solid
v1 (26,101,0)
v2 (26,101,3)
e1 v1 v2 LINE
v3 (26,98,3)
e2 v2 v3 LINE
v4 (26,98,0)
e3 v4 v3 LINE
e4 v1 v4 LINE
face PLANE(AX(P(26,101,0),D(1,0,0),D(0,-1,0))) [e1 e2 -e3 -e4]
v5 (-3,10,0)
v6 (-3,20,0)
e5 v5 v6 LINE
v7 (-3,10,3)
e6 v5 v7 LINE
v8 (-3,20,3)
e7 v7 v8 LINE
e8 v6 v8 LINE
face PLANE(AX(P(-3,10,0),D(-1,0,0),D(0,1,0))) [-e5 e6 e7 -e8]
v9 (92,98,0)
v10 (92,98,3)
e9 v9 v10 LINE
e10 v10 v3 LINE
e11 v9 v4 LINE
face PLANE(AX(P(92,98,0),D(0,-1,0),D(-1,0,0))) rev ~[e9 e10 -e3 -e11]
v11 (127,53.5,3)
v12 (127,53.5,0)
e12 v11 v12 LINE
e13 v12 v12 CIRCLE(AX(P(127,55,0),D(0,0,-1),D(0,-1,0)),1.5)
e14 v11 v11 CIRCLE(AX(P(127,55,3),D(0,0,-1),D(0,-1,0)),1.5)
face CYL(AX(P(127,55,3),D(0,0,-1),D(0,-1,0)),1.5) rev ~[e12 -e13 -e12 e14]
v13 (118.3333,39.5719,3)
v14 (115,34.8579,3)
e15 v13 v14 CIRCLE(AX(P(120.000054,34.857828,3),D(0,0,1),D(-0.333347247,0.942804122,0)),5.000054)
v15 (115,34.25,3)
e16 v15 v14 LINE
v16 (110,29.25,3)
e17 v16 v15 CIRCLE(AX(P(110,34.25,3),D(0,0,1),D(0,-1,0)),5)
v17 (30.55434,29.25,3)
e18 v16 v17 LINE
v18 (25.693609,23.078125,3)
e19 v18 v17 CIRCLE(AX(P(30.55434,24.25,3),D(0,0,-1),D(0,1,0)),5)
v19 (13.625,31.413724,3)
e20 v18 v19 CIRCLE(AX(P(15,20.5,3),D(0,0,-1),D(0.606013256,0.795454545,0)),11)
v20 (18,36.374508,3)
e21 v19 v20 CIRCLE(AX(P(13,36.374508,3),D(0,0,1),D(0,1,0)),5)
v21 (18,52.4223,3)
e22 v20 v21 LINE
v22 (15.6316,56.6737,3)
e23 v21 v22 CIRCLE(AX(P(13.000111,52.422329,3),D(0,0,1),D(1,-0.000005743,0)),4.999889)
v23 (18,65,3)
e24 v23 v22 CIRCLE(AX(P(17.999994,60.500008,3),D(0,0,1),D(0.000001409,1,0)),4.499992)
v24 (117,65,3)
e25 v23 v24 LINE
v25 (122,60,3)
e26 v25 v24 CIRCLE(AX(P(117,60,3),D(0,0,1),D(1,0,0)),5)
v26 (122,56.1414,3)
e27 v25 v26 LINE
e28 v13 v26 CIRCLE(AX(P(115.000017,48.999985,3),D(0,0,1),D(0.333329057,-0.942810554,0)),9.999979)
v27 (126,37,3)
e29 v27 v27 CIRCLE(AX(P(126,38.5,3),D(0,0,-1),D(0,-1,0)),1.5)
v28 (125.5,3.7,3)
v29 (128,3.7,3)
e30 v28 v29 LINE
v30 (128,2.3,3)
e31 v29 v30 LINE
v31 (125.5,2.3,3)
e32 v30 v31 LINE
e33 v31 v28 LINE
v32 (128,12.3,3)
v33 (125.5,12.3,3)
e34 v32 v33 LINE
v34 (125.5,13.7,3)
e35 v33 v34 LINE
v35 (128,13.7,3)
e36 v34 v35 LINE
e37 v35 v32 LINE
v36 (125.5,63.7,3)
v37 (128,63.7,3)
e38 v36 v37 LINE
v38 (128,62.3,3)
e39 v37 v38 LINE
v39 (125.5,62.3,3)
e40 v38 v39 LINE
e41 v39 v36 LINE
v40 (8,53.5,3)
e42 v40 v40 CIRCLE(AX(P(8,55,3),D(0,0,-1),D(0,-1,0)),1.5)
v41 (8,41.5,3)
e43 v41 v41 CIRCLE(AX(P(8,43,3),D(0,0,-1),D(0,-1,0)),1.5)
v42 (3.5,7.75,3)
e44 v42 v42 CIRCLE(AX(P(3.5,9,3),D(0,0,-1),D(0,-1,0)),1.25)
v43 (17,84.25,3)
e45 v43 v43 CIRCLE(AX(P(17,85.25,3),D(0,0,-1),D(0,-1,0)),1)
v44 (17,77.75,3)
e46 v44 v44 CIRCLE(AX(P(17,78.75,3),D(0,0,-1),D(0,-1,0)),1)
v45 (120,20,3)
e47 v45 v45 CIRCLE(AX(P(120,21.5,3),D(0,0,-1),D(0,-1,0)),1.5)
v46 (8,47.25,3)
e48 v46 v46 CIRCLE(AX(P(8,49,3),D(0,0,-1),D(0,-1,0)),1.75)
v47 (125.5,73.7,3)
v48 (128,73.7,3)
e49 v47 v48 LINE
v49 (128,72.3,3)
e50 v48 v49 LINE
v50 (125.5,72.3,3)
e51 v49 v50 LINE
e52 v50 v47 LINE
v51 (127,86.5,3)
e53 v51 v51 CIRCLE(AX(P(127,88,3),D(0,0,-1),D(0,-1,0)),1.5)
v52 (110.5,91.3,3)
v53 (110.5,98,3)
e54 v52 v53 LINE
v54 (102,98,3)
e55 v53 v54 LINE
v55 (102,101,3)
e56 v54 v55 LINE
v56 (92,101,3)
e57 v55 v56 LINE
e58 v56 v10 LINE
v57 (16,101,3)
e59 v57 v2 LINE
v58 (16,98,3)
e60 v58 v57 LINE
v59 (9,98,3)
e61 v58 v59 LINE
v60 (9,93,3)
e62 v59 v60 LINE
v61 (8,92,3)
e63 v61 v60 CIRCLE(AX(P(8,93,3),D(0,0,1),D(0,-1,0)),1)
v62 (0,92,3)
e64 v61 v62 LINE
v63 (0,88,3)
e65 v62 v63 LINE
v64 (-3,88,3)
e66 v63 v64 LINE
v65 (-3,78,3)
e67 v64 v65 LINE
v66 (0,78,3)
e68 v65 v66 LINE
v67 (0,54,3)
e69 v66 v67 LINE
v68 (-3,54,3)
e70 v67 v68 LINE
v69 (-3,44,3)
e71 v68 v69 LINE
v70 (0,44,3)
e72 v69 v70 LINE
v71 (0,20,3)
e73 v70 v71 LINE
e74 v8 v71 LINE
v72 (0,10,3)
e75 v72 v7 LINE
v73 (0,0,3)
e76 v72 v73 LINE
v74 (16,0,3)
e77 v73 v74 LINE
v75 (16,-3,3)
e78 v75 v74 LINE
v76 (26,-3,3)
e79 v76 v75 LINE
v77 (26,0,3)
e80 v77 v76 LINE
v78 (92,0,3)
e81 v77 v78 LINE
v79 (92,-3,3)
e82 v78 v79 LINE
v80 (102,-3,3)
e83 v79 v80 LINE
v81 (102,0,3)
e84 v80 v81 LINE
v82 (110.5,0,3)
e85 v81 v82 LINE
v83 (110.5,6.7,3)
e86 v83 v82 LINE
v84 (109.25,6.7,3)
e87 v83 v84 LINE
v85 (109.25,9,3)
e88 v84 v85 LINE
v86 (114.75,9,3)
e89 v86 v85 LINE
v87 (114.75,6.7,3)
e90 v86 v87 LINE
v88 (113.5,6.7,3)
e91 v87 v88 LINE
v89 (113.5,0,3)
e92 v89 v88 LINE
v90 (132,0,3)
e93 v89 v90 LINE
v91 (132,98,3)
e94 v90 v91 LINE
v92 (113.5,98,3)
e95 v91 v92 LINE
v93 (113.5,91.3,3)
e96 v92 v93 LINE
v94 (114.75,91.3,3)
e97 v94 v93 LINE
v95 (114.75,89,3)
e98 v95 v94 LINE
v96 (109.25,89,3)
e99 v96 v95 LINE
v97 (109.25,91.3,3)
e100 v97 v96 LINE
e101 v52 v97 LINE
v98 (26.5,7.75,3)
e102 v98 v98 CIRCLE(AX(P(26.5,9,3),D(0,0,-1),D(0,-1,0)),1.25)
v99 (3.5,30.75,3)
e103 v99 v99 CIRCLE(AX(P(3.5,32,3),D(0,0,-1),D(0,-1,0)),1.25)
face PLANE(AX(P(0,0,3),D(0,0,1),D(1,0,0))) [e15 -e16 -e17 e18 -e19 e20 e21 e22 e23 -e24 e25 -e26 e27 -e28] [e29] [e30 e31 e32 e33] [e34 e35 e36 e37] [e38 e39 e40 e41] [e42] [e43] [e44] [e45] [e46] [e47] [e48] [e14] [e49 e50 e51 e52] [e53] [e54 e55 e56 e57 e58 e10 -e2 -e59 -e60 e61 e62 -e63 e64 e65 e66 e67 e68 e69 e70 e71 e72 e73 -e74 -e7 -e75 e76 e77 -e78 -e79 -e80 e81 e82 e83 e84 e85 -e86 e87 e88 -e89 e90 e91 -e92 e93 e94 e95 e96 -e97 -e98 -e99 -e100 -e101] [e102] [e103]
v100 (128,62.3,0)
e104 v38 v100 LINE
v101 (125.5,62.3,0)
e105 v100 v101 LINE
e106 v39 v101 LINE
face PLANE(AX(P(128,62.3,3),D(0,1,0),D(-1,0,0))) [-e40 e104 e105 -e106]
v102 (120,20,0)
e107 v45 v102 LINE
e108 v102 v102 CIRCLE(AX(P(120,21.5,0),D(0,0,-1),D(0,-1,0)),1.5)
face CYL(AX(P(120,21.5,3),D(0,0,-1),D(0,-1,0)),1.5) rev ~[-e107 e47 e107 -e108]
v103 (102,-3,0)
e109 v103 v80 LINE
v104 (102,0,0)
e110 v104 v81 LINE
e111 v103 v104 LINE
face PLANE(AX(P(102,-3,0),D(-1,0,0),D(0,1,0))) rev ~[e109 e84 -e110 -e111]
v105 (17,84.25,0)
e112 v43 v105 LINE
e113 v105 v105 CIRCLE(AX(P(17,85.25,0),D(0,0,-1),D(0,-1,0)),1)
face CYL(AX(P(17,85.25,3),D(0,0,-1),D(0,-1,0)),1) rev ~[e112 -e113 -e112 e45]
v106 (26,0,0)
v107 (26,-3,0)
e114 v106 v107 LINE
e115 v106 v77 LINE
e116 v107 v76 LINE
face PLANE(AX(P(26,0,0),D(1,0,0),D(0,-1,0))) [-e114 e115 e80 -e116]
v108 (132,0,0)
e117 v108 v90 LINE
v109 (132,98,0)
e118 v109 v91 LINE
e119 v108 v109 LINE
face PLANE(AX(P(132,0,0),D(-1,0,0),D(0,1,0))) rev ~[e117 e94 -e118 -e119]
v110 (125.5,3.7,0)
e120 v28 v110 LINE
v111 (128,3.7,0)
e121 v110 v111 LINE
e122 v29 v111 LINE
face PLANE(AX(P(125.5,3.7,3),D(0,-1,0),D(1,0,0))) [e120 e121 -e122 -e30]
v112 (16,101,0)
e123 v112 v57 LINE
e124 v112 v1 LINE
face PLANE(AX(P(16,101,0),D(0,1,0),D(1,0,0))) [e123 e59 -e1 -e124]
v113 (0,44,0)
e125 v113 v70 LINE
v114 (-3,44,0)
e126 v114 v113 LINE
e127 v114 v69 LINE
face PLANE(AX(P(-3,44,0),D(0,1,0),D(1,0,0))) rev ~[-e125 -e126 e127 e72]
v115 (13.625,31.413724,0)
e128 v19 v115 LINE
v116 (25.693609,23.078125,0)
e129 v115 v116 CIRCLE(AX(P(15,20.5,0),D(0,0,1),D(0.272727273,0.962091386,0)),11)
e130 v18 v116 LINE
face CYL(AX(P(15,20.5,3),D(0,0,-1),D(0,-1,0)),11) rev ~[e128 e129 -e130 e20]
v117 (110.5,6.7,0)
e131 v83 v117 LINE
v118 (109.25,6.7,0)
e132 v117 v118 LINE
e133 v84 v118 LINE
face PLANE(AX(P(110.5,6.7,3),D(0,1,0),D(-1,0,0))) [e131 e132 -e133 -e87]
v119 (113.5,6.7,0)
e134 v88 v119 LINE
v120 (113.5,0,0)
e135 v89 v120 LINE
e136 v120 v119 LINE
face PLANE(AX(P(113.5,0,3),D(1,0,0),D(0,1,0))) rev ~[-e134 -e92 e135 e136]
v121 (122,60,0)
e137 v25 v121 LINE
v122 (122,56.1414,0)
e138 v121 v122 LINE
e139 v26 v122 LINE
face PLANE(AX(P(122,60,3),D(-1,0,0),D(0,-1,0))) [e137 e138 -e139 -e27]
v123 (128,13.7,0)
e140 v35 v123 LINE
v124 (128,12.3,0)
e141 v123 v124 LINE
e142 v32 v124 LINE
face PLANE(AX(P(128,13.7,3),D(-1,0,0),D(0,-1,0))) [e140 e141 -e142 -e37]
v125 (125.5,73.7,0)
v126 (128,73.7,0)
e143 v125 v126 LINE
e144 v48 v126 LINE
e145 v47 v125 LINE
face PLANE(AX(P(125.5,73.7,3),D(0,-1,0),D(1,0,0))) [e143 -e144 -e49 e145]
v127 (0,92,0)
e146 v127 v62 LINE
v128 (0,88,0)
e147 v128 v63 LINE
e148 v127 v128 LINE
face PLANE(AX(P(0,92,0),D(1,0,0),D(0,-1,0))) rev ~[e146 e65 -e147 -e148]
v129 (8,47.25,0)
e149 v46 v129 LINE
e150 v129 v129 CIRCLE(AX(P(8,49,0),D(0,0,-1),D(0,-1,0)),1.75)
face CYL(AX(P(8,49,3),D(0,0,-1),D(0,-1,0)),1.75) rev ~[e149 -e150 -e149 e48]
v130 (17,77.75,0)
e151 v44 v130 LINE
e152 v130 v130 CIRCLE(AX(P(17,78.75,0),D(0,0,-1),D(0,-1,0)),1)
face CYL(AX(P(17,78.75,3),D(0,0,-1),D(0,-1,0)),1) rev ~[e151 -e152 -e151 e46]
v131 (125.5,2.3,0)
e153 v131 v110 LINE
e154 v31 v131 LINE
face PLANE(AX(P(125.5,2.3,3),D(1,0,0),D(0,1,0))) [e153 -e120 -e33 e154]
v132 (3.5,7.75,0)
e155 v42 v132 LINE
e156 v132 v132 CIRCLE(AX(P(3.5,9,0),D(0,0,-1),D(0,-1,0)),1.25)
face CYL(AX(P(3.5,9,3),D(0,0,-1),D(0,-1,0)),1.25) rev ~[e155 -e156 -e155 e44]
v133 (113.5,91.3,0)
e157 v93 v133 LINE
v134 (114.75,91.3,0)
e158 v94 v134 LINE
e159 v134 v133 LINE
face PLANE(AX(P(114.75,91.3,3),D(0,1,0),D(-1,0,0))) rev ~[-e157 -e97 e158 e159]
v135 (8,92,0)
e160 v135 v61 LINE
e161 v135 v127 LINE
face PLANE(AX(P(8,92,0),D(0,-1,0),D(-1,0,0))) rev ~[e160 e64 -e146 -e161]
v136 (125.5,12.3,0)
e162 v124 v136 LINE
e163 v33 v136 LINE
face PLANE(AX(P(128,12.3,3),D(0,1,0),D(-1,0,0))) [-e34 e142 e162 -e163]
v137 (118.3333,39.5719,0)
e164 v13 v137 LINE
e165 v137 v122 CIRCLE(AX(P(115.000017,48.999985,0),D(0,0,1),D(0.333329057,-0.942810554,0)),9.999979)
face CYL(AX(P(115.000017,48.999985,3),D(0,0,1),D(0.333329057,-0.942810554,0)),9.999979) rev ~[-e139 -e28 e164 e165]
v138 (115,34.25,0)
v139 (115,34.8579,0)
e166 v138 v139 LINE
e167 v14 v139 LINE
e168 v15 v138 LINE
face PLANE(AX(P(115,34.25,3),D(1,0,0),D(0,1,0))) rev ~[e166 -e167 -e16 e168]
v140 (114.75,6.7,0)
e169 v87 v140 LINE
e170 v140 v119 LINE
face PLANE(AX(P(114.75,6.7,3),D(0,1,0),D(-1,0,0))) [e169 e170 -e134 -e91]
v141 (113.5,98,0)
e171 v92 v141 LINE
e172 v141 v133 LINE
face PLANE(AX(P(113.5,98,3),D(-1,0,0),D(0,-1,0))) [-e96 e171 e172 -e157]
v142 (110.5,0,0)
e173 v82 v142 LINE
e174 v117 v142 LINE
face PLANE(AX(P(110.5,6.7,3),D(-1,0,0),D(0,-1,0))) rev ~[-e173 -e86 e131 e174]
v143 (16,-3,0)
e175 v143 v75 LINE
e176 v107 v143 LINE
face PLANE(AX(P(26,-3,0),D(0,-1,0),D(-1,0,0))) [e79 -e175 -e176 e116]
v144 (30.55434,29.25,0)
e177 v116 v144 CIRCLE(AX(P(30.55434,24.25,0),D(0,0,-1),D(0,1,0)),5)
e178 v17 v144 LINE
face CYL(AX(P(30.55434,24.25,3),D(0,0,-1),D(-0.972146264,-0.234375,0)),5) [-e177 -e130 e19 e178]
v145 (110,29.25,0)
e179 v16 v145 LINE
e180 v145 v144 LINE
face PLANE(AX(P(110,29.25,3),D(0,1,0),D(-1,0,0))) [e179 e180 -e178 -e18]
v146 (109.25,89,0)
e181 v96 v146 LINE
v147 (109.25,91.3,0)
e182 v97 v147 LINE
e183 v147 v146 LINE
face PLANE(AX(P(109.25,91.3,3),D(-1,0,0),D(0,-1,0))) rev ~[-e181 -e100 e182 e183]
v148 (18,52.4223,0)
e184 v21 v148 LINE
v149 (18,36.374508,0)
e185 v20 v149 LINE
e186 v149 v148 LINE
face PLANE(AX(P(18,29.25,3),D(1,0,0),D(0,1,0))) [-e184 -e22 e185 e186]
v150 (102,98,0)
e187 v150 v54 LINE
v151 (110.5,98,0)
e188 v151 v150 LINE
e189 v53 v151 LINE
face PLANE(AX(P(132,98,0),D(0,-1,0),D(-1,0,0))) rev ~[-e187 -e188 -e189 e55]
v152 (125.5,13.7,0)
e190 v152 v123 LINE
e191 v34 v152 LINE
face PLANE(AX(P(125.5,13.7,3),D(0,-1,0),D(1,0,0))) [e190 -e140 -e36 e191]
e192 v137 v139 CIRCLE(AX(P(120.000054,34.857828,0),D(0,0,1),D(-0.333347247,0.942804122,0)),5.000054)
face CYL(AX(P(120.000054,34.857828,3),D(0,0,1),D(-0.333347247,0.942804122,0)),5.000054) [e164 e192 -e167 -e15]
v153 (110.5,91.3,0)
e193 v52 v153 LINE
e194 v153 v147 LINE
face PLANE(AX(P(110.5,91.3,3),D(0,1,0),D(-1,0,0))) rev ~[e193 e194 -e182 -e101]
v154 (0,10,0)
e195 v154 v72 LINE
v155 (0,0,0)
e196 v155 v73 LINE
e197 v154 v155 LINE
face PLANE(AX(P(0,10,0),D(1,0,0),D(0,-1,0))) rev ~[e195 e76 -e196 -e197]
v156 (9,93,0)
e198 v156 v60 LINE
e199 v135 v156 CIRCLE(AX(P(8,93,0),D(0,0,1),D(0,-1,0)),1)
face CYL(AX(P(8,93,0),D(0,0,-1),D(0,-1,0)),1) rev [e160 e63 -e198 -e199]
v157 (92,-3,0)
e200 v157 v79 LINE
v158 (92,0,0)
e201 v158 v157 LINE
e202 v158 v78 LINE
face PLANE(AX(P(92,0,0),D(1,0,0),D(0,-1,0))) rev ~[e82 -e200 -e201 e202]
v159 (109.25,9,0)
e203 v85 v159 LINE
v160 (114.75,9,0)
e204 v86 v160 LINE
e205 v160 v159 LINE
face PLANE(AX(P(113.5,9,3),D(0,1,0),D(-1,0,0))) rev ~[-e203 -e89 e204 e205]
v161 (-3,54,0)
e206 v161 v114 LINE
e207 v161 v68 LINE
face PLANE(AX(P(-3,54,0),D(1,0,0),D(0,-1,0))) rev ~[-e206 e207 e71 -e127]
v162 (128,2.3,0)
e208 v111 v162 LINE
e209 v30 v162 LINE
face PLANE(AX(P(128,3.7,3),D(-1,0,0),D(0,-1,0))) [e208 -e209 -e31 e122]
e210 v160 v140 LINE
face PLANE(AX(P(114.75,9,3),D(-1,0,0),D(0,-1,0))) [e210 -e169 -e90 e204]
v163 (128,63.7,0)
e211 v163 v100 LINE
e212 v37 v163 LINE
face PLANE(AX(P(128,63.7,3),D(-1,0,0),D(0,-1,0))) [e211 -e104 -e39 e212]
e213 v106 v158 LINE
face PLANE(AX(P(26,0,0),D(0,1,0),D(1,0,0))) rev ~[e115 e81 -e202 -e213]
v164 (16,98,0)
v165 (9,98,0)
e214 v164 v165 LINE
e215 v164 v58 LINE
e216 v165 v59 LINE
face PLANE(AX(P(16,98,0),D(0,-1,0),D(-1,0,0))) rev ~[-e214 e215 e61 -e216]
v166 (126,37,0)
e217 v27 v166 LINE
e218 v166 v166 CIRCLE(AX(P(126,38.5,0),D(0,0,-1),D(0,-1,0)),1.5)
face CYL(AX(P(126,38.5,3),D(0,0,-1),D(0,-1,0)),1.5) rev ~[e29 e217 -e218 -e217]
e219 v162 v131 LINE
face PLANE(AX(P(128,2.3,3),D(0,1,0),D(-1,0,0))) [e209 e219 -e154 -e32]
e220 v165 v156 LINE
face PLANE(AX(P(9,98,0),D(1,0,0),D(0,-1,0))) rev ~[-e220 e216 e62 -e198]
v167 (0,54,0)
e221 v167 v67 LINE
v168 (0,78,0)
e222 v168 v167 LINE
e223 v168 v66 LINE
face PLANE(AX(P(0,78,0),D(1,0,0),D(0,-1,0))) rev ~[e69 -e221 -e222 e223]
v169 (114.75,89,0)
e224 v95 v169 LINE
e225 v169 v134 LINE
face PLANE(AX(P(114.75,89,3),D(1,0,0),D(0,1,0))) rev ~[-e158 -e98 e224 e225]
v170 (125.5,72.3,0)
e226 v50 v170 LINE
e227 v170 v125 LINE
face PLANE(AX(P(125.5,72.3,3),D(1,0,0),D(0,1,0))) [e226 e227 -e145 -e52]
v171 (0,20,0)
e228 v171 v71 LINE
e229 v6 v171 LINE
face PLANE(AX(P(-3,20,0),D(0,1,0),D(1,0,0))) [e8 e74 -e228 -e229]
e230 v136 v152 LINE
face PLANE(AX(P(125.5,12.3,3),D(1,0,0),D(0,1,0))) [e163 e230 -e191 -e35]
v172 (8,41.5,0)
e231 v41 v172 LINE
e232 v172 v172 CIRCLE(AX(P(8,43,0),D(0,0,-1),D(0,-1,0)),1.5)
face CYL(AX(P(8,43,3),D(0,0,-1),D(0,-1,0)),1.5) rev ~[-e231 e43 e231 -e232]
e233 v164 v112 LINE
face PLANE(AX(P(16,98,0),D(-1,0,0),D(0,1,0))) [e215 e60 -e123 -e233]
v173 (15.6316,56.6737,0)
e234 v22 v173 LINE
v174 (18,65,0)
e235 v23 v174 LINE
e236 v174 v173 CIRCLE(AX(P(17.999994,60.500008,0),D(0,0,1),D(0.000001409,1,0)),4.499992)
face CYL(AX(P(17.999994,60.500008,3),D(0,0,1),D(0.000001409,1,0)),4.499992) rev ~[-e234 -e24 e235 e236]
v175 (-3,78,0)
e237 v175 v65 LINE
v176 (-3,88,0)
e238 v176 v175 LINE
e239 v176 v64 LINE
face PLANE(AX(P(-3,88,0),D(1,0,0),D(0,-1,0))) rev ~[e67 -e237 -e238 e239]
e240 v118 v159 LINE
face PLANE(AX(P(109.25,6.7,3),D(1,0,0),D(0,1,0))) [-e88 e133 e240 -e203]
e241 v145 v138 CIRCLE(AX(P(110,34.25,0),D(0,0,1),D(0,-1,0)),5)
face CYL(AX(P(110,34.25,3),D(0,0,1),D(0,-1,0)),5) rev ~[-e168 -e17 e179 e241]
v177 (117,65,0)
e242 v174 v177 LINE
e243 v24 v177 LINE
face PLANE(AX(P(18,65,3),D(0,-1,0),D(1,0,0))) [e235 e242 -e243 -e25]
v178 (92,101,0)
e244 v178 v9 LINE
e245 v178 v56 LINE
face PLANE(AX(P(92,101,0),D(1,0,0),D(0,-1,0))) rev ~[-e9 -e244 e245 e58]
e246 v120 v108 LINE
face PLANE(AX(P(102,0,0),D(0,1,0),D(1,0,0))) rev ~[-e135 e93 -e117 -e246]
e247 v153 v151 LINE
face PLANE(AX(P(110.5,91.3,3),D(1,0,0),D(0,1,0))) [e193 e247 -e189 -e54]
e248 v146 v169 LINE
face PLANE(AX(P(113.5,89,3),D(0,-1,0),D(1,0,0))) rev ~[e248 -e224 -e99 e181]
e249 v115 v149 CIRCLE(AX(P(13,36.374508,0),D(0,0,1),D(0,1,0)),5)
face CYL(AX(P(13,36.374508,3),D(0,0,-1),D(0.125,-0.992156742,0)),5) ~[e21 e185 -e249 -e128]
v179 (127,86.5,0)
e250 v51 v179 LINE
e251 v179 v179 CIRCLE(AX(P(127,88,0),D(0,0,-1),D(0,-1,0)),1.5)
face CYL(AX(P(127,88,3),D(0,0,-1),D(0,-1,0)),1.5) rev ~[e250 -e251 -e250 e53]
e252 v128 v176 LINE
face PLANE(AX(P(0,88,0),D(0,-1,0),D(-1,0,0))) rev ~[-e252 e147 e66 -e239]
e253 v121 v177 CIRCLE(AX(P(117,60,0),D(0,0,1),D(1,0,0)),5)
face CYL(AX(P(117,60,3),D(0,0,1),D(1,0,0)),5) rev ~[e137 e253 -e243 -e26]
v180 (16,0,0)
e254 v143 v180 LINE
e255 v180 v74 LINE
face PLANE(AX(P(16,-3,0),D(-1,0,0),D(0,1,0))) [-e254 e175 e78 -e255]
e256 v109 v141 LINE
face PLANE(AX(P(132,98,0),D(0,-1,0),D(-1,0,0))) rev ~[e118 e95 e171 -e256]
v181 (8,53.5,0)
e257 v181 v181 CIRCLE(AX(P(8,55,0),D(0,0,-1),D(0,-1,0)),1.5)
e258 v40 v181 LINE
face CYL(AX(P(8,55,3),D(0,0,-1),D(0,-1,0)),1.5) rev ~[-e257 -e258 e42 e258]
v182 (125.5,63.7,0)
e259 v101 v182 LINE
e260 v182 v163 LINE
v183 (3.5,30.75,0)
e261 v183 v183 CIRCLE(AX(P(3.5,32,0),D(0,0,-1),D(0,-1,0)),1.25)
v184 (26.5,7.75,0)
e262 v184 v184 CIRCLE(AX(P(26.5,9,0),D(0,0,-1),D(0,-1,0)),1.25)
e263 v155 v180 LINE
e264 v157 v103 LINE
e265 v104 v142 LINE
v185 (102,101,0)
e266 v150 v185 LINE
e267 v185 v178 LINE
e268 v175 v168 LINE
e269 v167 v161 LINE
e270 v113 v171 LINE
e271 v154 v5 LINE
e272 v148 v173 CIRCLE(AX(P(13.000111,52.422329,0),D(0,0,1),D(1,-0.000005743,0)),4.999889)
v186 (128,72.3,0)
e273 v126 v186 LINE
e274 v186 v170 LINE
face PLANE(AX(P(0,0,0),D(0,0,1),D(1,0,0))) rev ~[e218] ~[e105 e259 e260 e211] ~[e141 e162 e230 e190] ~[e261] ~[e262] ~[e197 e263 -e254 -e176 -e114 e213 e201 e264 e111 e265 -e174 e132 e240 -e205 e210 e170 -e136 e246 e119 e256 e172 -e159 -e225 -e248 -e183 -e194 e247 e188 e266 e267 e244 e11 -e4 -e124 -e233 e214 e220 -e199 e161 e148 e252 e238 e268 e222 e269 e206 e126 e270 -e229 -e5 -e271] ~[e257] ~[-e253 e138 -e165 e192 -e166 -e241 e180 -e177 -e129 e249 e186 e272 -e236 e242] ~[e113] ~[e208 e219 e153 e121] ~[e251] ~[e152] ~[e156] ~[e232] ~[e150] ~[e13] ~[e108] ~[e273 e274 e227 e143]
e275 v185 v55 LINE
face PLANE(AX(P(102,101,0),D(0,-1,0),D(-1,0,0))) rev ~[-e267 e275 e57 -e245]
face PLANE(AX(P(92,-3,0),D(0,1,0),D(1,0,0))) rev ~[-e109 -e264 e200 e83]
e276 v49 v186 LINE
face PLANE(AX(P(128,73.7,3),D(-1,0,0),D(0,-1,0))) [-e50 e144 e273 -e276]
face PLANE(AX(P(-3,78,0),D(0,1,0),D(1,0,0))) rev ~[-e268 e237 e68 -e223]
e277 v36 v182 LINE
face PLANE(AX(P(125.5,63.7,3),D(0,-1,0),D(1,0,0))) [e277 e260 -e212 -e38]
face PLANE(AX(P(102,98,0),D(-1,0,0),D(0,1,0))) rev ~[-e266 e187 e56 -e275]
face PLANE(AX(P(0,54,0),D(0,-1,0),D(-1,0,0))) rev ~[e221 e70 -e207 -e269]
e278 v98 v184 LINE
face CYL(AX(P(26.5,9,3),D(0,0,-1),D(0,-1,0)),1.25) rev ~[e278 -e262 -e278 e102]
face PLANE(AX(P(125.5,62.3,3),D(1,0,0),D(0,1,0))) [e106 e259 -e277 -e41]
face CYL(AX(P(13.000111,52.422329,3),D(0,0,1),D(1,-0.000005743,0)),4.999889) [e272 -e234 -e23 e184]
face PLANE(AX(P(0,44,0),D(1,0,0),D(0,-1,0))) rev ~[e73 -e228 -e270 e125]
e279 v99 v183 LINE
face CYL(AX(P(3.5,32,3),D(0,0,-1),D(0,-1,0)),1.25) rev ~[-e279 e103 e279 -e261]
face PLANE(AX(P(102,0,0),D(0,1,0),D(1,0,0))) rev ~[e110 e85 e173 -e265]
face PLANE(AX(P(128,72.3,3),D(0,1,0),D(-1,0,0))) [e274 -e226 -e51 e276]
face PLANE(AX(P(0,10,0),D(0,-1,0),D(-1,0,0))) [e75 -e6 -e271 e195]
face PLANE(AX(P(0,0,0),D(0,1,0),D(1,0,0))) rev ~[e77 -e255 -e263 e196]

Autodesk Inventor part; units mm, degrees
ref_plane "YZ Plane" through (0, 0, 0) normal (1, 0, 0) x (0, 1, 0)
ref_plane "XZ Plane" through (0, 0, 0) normal (0, 1, 0) x (-1, 0, 0)
ref_plane "XY Plane" through (0, 0, 0) normal (0, 0, 1) x (1, 0, 0)
sketch "Sketch1" plane through (0, 0, 0) normal (0, 0, 1) x (1, 0, 0)
  line L0 (0, 0) -> (132, 0)
  line L1 (132, 0) -> (132, 98)
  line L2 (132, 98) -> (0, 98)
  line L3 (0, 98) -> (0, 0)
  line L4 (16, 101) -> (26, 101)
  line L5 (26, 101) -> (26, -3)
  line L6 (26, -3) -> (16, -3)
  line L7 (16, -3) -> (16, 101)
  line L8 (102, 101) -> (92, 101)
  line L9 (92, 101) -> (92, -3)
  line L10 (92, -3) -> (102, -3)
  line L11 (102, -3) -> (102, 101)
  line L12 (0, 88) -> (-3, 88)
  line L13 (-3, 88) -> (-3, 78)
  line L14 (-3, 78) -> (0, 78)
  line L15 (0, 78) -> (0, 88)
  line L16 (0, 10) -> (-3, 10)
  line L17 (-3, 10) -> (-3, 20)
  line L18 (-3, 20) -> (0, 20)
  line L19 (0, 20) -> (0, 10)
  line L20 (0, 54) -> (-3, 54)
  line L21 (-3, 54) -> (-3, 44)
  line L22 (-3, 44) -> (0, 44)
  line L23 (0, 44) -> (0, 54)
  line L24 (0, 98) -> (9, 98)
  line L25 (9, 98) -> (9, 93)
  line L26 (8, 92) -> (0, 92)
  line L27 (0, 92) -> (0, 98)
  arc A0 (8, 92) -> (9, 93) centre (8, 93) ccw
  point P0 (9, 92)
  dimension "d0" = 98
  dimension "d1" = 132
  dimension "d74" = 10
  dimension "d77" = 10
  dimension "d306" = 16
  dimension "d307" = 104
  dimension "d308" = 3
  dimension "d309" = 3
  dimension "d310" = 104
  dimension "d311" = 30
  dimension "d312" = 3
  dimension "d313" = 10
  dimension "d314" = 10
  dimension "d315" = 3
  dimension "d316" = 10
  dimension "d317" = 10
  dimension "d318" = 10
  dimension "d319" = 3
  dimension "d320" = 24
  dimension "d368" = 9
  dimension "d369" = 6
  dimension "d370" = 1
extrude "Extrusion1" add sketch "Sketch1" along normal blind 3 contours L3 L26 A0 L25 L2 L7 L0 | L7 L2 L5 L0 | L0 L5 L6 L7 | L16 L17 L18 L3 | L5 L2 L9 L0 | L7 L4 L5 L2 | L9 L2 L11 L0 | L0 L11 L10 L9 | L22 L21 L20 L3 | L11 L2 L1 L0 | L9 L8 L11 L2 | L14 L13 L12 L3
sketch "Sketch11" plane through (0, 0, 3) normal (0, 0, 1) x (1, 0, 0)
  line L0 (0, 0) -> (0, 98) projected
  line L1 (6, 0) -> (0, 0) projected
  point P0 (15, 20.5)
  dimension "d141" = 20.5
  dimension "d142" = 15
hole "Hole7" at (15, 20.5, 3) direction (0, 0, -1) diameter 22 end through all
sketch "Sketch12" plane through (0, 0, 3) normal (0, 0, 1) x (1, 0, 0)
  circle A0 centre (15, 20.5) radius 11 projected
  point P0 (3.5, 32)
  point P1 (26.5, 9)
  point P2 (3.5, 9)
  dimension "d152" = 11.5
  dimension "d153" = 11.5
  dimension "d161" = 11.5
  dimension "d162" = 11.5
  dimension "d163" = 11.5
  dimension "d164" = 11.5
hole "Hole8" at (3.5, 32, 3) at (26.5, 9, 3) at (3.5, 9, 3) direction (0, 0, -1) diameter 2.5 end through all
sketch "Sketch20" plane through (0, 0, 3) normal (0, 0, 1) x (1, 0, 0)
  line L0 (132, 0) -> (120, 0) projected
  line L1 (132, 98) -> (132, 0) projected
  line L2 (120, 98) -> (132, 98) projected
  line L3 (125.5, 73.7) -> (128, 73.7)
  line L4 (128, 73.7) -> (128, 72.3)
  line L5 (128, 72.3) -> (125.5, 72.3)
  line L6 (125.5, 72.3) -> (125.5, 73.7)
  line L7 (125.5, 63.7) -> (128, 63.7)
  line L8 (128, 63.7) -> (128, 62.3)
  line L9 (128, 62.3) -> (125.5, 62.3)
  line L10 (125.5, 62.3) -> (125.5, 63.7)
  line L11 (125.5, 13.7) -> (128, 13.7)
  line L12 (128, 13.7) -> (128, 12.3)
  line L13 (128, 12.3) -> (125.5, 12.3)
  line L14 (125.5, 12.3) -> (125.5, 13.7)
  line L15 (125.5, 3.7) -> (128, 3.7)
  line L16 (128, 3.7) -> (128, 2.3)
  line L17 (128, 2.3) -> (125.5, 2.3)
  line L18 (125.5, 2.3) -> (125.5, 3.7)
  dimension "d208" = 1.4
  dimension "d209" = 24.3
  dimension "d210" = 4
  dimension "d211" = 2.5
  dimension "d212" = 1.4
  dimension "d213" = 8.6
  dimension "d214" = 2.5
  dimension "d215" = 1.4
  dimension "d216" = 2.3
  dimension "d217" = 4
  dimension "d218" = 8.6
  dimension "d219" = 1.4
extrude "Extrusion10" cut sketch "Sketch20" against normal through all
sketch "Sketch26" plane through (0, 0, 3) normal (0, 0, 1) x (1, 0, 0)
  line L0 (0, 98) -> (6, 98) projected
  line L1 (0, 88) -> (0, 98) projected
  point P0 (17, 85.25)
  point P1 (17, 78.75)
  dimension "d289" = 6.5
  dimension "d290" = 12.75
  dimension "d366" = 17
hole "Hole13" at (17, 85.25, 3) at (17, 78.75, 3) direction (0, 0, -1) diameter 2 end through all
sketch "草圖28" plane through (0, 0, 3) normal (0, 0, 1) x (1, 0, 0)
  line L0 (132, 0) -> (102, 0) projected
  line L1 (132, 98) -> (132, 0) projected
  line L2 (102, 98) -> (132, 98) projected
  line L3 (110.5, 98) -> (113.5, 98)
  line L4 (113.5, 98) -> (113.5, 89)
  line L5 (113.5, 89) -> (110.5, 89)
  line L6 (110.5, 89) -> (110.5, 98)
  line L7 (109.25, 89) -> (114.75, 89)
  line L8 (114.75, 89) -> (114.75, 91.3)
  line L9 (114.75, 91.3) -> (109.25, 91.3)
  line L10 (109.25, 91.3) -> (109.25, 89)
  line L11 (113.5, 9) -> (110.5, 9)
  line L12 (110.5, 9) -> (110.5, 0)
  line L13 (110.5, 0) -> (113.5, 0)
  line L14 (113.5, 0) -> (113.5, 9)
  line L15 (109.25, 9) -> (114.75, 9)
  line L16 (114.75, 9) -> (114.75, 6.7)
  line L17 (114.75, 6.7) -> (109.25, 6.7)
  line L18 (109.25, 6.7) -> (109.25, 9)
  dimension "d321" = 9
  dimension "d323" = 3
  dimension "d324" = 5.5
  dimension "d325" = 2.3
  dimension "d326" = 1.25
  dimension "d327" = 18.5
  dimension "d328" = 18.5
  dimension "d329" = 9
  dimension "d330" = 5.5
  dimension "d331" = 2.3
  dimension "d378" = 1.25
extrude "擠出14" cut sketch "草圖28" against normal through all
sketch "草圖29" plane through (0, 0, 3) normal (0, 0, 1) x (1, 0, 0)
  line L0 (26, 98) -> (16, 98) projected
  line L1 (0, 54) -> (0, 78) projected
  point P0 (0, 98)
  point P1 (8, 49)
  dimension "d336" = 8
  dimension "d337" = 49
hole "孔14" at (8, 49, 3) direction (0, 0, -1) diameter 3.5 end through all
sketch "草圖30" plane through (0, 0, 3) normal (0, 0, 1) x (1, 0, 0)
  circle A0 centre (8, 49) radius 1.75 projected
  line L0 (132, 0) -> (113.5, 0) projected
  line L1 (132, 98) -> (132, 0) projected
  line L2 (113.5, 98) -> (132, 98) projected
  point P0 (8, 55)
  point P1 (8, 43)
  point P2 (120, 21.5)
  point P3 (126, 38.5)
  point P4 (127, 55)
  point P5 (127, 88)
  dimension "d345" = 6
  dimension "d346" = 6
  dimension "d371" = 21.5
  dimension "d372" = 12
  dimension "d373" = 6
  dimension "d374" = 38.5
  dimension "d375" = 5
  dimension "d376" = 55
  dimension "d377" = 10
  dimension "d381" = 5
hole "孔15" at (8, 55, 3) at (8, 43, 3) at (127, 88, 3) at (127, 55, 3) at (126, 38.5, 3) at (120, 21.5, 3) direction (0, 0, -1) diameter 3 end through all
sketch "草圖31" plane through (0, 0, 3) normal (0, 0, 1) x (1, 0, 0)
  line L0 (26, 98) -> (92, 98) projected
  line L1 (0, 54) -> (0, 78) projected
  line L2 (18, 65) -> (117, 65)
  line L3 (110, 29.25) -> (18, 29.25)
  line L4 (18, 29.25) -> (18, 52.4223)
  arc A0 (18, 65) -> (15.6316, 56.6737) centre (18, 60.5) ccw
  arc A1 (118.3333, 39.5719) -> (122, 56.1414) centre (115, 49) ccw
  line L5 (115, 34.25) -> (115, 34.8579)
  line L6 (122, 60) -> (122, 56.1414)
  arc A2 (18, 52.4223) -> (15.6316, 56.6737) centre (13, 52.4223) ccw
  arc A3 (122, 60) -> (117, 65) centre (117, 60) ccw
  arc A4 (118.3333, 39.5719) -> (115, 34.8579) centre (120, 34.8579) ccw
  arc A5 (110, 29.25) -> (115, 34.25) centre (110, 34.25) ccw
  line L7 (132, 98) -> (132, 0) projected
  point P0 (115, 39)
  point P1 (18, 56)
  point P2 (132, 86.882)
  dimension "d354" = 35.75
  dimension "d356" = 33
  dimension "d358" = 18
  dimension "d359" = 9
  dimension "d360" = 20
  dimension "d362" = 5
  dimension "d379" = 10
  dimension "d380" = 17
extrude "擠出15" cut sketch "草圖31" against normal through all
fillet "圓角9" radius 5 2 edges at (18, 31.083, 1.5) (21.6661, 29.25, 1.5)
properties part number "plastic_part_52"
